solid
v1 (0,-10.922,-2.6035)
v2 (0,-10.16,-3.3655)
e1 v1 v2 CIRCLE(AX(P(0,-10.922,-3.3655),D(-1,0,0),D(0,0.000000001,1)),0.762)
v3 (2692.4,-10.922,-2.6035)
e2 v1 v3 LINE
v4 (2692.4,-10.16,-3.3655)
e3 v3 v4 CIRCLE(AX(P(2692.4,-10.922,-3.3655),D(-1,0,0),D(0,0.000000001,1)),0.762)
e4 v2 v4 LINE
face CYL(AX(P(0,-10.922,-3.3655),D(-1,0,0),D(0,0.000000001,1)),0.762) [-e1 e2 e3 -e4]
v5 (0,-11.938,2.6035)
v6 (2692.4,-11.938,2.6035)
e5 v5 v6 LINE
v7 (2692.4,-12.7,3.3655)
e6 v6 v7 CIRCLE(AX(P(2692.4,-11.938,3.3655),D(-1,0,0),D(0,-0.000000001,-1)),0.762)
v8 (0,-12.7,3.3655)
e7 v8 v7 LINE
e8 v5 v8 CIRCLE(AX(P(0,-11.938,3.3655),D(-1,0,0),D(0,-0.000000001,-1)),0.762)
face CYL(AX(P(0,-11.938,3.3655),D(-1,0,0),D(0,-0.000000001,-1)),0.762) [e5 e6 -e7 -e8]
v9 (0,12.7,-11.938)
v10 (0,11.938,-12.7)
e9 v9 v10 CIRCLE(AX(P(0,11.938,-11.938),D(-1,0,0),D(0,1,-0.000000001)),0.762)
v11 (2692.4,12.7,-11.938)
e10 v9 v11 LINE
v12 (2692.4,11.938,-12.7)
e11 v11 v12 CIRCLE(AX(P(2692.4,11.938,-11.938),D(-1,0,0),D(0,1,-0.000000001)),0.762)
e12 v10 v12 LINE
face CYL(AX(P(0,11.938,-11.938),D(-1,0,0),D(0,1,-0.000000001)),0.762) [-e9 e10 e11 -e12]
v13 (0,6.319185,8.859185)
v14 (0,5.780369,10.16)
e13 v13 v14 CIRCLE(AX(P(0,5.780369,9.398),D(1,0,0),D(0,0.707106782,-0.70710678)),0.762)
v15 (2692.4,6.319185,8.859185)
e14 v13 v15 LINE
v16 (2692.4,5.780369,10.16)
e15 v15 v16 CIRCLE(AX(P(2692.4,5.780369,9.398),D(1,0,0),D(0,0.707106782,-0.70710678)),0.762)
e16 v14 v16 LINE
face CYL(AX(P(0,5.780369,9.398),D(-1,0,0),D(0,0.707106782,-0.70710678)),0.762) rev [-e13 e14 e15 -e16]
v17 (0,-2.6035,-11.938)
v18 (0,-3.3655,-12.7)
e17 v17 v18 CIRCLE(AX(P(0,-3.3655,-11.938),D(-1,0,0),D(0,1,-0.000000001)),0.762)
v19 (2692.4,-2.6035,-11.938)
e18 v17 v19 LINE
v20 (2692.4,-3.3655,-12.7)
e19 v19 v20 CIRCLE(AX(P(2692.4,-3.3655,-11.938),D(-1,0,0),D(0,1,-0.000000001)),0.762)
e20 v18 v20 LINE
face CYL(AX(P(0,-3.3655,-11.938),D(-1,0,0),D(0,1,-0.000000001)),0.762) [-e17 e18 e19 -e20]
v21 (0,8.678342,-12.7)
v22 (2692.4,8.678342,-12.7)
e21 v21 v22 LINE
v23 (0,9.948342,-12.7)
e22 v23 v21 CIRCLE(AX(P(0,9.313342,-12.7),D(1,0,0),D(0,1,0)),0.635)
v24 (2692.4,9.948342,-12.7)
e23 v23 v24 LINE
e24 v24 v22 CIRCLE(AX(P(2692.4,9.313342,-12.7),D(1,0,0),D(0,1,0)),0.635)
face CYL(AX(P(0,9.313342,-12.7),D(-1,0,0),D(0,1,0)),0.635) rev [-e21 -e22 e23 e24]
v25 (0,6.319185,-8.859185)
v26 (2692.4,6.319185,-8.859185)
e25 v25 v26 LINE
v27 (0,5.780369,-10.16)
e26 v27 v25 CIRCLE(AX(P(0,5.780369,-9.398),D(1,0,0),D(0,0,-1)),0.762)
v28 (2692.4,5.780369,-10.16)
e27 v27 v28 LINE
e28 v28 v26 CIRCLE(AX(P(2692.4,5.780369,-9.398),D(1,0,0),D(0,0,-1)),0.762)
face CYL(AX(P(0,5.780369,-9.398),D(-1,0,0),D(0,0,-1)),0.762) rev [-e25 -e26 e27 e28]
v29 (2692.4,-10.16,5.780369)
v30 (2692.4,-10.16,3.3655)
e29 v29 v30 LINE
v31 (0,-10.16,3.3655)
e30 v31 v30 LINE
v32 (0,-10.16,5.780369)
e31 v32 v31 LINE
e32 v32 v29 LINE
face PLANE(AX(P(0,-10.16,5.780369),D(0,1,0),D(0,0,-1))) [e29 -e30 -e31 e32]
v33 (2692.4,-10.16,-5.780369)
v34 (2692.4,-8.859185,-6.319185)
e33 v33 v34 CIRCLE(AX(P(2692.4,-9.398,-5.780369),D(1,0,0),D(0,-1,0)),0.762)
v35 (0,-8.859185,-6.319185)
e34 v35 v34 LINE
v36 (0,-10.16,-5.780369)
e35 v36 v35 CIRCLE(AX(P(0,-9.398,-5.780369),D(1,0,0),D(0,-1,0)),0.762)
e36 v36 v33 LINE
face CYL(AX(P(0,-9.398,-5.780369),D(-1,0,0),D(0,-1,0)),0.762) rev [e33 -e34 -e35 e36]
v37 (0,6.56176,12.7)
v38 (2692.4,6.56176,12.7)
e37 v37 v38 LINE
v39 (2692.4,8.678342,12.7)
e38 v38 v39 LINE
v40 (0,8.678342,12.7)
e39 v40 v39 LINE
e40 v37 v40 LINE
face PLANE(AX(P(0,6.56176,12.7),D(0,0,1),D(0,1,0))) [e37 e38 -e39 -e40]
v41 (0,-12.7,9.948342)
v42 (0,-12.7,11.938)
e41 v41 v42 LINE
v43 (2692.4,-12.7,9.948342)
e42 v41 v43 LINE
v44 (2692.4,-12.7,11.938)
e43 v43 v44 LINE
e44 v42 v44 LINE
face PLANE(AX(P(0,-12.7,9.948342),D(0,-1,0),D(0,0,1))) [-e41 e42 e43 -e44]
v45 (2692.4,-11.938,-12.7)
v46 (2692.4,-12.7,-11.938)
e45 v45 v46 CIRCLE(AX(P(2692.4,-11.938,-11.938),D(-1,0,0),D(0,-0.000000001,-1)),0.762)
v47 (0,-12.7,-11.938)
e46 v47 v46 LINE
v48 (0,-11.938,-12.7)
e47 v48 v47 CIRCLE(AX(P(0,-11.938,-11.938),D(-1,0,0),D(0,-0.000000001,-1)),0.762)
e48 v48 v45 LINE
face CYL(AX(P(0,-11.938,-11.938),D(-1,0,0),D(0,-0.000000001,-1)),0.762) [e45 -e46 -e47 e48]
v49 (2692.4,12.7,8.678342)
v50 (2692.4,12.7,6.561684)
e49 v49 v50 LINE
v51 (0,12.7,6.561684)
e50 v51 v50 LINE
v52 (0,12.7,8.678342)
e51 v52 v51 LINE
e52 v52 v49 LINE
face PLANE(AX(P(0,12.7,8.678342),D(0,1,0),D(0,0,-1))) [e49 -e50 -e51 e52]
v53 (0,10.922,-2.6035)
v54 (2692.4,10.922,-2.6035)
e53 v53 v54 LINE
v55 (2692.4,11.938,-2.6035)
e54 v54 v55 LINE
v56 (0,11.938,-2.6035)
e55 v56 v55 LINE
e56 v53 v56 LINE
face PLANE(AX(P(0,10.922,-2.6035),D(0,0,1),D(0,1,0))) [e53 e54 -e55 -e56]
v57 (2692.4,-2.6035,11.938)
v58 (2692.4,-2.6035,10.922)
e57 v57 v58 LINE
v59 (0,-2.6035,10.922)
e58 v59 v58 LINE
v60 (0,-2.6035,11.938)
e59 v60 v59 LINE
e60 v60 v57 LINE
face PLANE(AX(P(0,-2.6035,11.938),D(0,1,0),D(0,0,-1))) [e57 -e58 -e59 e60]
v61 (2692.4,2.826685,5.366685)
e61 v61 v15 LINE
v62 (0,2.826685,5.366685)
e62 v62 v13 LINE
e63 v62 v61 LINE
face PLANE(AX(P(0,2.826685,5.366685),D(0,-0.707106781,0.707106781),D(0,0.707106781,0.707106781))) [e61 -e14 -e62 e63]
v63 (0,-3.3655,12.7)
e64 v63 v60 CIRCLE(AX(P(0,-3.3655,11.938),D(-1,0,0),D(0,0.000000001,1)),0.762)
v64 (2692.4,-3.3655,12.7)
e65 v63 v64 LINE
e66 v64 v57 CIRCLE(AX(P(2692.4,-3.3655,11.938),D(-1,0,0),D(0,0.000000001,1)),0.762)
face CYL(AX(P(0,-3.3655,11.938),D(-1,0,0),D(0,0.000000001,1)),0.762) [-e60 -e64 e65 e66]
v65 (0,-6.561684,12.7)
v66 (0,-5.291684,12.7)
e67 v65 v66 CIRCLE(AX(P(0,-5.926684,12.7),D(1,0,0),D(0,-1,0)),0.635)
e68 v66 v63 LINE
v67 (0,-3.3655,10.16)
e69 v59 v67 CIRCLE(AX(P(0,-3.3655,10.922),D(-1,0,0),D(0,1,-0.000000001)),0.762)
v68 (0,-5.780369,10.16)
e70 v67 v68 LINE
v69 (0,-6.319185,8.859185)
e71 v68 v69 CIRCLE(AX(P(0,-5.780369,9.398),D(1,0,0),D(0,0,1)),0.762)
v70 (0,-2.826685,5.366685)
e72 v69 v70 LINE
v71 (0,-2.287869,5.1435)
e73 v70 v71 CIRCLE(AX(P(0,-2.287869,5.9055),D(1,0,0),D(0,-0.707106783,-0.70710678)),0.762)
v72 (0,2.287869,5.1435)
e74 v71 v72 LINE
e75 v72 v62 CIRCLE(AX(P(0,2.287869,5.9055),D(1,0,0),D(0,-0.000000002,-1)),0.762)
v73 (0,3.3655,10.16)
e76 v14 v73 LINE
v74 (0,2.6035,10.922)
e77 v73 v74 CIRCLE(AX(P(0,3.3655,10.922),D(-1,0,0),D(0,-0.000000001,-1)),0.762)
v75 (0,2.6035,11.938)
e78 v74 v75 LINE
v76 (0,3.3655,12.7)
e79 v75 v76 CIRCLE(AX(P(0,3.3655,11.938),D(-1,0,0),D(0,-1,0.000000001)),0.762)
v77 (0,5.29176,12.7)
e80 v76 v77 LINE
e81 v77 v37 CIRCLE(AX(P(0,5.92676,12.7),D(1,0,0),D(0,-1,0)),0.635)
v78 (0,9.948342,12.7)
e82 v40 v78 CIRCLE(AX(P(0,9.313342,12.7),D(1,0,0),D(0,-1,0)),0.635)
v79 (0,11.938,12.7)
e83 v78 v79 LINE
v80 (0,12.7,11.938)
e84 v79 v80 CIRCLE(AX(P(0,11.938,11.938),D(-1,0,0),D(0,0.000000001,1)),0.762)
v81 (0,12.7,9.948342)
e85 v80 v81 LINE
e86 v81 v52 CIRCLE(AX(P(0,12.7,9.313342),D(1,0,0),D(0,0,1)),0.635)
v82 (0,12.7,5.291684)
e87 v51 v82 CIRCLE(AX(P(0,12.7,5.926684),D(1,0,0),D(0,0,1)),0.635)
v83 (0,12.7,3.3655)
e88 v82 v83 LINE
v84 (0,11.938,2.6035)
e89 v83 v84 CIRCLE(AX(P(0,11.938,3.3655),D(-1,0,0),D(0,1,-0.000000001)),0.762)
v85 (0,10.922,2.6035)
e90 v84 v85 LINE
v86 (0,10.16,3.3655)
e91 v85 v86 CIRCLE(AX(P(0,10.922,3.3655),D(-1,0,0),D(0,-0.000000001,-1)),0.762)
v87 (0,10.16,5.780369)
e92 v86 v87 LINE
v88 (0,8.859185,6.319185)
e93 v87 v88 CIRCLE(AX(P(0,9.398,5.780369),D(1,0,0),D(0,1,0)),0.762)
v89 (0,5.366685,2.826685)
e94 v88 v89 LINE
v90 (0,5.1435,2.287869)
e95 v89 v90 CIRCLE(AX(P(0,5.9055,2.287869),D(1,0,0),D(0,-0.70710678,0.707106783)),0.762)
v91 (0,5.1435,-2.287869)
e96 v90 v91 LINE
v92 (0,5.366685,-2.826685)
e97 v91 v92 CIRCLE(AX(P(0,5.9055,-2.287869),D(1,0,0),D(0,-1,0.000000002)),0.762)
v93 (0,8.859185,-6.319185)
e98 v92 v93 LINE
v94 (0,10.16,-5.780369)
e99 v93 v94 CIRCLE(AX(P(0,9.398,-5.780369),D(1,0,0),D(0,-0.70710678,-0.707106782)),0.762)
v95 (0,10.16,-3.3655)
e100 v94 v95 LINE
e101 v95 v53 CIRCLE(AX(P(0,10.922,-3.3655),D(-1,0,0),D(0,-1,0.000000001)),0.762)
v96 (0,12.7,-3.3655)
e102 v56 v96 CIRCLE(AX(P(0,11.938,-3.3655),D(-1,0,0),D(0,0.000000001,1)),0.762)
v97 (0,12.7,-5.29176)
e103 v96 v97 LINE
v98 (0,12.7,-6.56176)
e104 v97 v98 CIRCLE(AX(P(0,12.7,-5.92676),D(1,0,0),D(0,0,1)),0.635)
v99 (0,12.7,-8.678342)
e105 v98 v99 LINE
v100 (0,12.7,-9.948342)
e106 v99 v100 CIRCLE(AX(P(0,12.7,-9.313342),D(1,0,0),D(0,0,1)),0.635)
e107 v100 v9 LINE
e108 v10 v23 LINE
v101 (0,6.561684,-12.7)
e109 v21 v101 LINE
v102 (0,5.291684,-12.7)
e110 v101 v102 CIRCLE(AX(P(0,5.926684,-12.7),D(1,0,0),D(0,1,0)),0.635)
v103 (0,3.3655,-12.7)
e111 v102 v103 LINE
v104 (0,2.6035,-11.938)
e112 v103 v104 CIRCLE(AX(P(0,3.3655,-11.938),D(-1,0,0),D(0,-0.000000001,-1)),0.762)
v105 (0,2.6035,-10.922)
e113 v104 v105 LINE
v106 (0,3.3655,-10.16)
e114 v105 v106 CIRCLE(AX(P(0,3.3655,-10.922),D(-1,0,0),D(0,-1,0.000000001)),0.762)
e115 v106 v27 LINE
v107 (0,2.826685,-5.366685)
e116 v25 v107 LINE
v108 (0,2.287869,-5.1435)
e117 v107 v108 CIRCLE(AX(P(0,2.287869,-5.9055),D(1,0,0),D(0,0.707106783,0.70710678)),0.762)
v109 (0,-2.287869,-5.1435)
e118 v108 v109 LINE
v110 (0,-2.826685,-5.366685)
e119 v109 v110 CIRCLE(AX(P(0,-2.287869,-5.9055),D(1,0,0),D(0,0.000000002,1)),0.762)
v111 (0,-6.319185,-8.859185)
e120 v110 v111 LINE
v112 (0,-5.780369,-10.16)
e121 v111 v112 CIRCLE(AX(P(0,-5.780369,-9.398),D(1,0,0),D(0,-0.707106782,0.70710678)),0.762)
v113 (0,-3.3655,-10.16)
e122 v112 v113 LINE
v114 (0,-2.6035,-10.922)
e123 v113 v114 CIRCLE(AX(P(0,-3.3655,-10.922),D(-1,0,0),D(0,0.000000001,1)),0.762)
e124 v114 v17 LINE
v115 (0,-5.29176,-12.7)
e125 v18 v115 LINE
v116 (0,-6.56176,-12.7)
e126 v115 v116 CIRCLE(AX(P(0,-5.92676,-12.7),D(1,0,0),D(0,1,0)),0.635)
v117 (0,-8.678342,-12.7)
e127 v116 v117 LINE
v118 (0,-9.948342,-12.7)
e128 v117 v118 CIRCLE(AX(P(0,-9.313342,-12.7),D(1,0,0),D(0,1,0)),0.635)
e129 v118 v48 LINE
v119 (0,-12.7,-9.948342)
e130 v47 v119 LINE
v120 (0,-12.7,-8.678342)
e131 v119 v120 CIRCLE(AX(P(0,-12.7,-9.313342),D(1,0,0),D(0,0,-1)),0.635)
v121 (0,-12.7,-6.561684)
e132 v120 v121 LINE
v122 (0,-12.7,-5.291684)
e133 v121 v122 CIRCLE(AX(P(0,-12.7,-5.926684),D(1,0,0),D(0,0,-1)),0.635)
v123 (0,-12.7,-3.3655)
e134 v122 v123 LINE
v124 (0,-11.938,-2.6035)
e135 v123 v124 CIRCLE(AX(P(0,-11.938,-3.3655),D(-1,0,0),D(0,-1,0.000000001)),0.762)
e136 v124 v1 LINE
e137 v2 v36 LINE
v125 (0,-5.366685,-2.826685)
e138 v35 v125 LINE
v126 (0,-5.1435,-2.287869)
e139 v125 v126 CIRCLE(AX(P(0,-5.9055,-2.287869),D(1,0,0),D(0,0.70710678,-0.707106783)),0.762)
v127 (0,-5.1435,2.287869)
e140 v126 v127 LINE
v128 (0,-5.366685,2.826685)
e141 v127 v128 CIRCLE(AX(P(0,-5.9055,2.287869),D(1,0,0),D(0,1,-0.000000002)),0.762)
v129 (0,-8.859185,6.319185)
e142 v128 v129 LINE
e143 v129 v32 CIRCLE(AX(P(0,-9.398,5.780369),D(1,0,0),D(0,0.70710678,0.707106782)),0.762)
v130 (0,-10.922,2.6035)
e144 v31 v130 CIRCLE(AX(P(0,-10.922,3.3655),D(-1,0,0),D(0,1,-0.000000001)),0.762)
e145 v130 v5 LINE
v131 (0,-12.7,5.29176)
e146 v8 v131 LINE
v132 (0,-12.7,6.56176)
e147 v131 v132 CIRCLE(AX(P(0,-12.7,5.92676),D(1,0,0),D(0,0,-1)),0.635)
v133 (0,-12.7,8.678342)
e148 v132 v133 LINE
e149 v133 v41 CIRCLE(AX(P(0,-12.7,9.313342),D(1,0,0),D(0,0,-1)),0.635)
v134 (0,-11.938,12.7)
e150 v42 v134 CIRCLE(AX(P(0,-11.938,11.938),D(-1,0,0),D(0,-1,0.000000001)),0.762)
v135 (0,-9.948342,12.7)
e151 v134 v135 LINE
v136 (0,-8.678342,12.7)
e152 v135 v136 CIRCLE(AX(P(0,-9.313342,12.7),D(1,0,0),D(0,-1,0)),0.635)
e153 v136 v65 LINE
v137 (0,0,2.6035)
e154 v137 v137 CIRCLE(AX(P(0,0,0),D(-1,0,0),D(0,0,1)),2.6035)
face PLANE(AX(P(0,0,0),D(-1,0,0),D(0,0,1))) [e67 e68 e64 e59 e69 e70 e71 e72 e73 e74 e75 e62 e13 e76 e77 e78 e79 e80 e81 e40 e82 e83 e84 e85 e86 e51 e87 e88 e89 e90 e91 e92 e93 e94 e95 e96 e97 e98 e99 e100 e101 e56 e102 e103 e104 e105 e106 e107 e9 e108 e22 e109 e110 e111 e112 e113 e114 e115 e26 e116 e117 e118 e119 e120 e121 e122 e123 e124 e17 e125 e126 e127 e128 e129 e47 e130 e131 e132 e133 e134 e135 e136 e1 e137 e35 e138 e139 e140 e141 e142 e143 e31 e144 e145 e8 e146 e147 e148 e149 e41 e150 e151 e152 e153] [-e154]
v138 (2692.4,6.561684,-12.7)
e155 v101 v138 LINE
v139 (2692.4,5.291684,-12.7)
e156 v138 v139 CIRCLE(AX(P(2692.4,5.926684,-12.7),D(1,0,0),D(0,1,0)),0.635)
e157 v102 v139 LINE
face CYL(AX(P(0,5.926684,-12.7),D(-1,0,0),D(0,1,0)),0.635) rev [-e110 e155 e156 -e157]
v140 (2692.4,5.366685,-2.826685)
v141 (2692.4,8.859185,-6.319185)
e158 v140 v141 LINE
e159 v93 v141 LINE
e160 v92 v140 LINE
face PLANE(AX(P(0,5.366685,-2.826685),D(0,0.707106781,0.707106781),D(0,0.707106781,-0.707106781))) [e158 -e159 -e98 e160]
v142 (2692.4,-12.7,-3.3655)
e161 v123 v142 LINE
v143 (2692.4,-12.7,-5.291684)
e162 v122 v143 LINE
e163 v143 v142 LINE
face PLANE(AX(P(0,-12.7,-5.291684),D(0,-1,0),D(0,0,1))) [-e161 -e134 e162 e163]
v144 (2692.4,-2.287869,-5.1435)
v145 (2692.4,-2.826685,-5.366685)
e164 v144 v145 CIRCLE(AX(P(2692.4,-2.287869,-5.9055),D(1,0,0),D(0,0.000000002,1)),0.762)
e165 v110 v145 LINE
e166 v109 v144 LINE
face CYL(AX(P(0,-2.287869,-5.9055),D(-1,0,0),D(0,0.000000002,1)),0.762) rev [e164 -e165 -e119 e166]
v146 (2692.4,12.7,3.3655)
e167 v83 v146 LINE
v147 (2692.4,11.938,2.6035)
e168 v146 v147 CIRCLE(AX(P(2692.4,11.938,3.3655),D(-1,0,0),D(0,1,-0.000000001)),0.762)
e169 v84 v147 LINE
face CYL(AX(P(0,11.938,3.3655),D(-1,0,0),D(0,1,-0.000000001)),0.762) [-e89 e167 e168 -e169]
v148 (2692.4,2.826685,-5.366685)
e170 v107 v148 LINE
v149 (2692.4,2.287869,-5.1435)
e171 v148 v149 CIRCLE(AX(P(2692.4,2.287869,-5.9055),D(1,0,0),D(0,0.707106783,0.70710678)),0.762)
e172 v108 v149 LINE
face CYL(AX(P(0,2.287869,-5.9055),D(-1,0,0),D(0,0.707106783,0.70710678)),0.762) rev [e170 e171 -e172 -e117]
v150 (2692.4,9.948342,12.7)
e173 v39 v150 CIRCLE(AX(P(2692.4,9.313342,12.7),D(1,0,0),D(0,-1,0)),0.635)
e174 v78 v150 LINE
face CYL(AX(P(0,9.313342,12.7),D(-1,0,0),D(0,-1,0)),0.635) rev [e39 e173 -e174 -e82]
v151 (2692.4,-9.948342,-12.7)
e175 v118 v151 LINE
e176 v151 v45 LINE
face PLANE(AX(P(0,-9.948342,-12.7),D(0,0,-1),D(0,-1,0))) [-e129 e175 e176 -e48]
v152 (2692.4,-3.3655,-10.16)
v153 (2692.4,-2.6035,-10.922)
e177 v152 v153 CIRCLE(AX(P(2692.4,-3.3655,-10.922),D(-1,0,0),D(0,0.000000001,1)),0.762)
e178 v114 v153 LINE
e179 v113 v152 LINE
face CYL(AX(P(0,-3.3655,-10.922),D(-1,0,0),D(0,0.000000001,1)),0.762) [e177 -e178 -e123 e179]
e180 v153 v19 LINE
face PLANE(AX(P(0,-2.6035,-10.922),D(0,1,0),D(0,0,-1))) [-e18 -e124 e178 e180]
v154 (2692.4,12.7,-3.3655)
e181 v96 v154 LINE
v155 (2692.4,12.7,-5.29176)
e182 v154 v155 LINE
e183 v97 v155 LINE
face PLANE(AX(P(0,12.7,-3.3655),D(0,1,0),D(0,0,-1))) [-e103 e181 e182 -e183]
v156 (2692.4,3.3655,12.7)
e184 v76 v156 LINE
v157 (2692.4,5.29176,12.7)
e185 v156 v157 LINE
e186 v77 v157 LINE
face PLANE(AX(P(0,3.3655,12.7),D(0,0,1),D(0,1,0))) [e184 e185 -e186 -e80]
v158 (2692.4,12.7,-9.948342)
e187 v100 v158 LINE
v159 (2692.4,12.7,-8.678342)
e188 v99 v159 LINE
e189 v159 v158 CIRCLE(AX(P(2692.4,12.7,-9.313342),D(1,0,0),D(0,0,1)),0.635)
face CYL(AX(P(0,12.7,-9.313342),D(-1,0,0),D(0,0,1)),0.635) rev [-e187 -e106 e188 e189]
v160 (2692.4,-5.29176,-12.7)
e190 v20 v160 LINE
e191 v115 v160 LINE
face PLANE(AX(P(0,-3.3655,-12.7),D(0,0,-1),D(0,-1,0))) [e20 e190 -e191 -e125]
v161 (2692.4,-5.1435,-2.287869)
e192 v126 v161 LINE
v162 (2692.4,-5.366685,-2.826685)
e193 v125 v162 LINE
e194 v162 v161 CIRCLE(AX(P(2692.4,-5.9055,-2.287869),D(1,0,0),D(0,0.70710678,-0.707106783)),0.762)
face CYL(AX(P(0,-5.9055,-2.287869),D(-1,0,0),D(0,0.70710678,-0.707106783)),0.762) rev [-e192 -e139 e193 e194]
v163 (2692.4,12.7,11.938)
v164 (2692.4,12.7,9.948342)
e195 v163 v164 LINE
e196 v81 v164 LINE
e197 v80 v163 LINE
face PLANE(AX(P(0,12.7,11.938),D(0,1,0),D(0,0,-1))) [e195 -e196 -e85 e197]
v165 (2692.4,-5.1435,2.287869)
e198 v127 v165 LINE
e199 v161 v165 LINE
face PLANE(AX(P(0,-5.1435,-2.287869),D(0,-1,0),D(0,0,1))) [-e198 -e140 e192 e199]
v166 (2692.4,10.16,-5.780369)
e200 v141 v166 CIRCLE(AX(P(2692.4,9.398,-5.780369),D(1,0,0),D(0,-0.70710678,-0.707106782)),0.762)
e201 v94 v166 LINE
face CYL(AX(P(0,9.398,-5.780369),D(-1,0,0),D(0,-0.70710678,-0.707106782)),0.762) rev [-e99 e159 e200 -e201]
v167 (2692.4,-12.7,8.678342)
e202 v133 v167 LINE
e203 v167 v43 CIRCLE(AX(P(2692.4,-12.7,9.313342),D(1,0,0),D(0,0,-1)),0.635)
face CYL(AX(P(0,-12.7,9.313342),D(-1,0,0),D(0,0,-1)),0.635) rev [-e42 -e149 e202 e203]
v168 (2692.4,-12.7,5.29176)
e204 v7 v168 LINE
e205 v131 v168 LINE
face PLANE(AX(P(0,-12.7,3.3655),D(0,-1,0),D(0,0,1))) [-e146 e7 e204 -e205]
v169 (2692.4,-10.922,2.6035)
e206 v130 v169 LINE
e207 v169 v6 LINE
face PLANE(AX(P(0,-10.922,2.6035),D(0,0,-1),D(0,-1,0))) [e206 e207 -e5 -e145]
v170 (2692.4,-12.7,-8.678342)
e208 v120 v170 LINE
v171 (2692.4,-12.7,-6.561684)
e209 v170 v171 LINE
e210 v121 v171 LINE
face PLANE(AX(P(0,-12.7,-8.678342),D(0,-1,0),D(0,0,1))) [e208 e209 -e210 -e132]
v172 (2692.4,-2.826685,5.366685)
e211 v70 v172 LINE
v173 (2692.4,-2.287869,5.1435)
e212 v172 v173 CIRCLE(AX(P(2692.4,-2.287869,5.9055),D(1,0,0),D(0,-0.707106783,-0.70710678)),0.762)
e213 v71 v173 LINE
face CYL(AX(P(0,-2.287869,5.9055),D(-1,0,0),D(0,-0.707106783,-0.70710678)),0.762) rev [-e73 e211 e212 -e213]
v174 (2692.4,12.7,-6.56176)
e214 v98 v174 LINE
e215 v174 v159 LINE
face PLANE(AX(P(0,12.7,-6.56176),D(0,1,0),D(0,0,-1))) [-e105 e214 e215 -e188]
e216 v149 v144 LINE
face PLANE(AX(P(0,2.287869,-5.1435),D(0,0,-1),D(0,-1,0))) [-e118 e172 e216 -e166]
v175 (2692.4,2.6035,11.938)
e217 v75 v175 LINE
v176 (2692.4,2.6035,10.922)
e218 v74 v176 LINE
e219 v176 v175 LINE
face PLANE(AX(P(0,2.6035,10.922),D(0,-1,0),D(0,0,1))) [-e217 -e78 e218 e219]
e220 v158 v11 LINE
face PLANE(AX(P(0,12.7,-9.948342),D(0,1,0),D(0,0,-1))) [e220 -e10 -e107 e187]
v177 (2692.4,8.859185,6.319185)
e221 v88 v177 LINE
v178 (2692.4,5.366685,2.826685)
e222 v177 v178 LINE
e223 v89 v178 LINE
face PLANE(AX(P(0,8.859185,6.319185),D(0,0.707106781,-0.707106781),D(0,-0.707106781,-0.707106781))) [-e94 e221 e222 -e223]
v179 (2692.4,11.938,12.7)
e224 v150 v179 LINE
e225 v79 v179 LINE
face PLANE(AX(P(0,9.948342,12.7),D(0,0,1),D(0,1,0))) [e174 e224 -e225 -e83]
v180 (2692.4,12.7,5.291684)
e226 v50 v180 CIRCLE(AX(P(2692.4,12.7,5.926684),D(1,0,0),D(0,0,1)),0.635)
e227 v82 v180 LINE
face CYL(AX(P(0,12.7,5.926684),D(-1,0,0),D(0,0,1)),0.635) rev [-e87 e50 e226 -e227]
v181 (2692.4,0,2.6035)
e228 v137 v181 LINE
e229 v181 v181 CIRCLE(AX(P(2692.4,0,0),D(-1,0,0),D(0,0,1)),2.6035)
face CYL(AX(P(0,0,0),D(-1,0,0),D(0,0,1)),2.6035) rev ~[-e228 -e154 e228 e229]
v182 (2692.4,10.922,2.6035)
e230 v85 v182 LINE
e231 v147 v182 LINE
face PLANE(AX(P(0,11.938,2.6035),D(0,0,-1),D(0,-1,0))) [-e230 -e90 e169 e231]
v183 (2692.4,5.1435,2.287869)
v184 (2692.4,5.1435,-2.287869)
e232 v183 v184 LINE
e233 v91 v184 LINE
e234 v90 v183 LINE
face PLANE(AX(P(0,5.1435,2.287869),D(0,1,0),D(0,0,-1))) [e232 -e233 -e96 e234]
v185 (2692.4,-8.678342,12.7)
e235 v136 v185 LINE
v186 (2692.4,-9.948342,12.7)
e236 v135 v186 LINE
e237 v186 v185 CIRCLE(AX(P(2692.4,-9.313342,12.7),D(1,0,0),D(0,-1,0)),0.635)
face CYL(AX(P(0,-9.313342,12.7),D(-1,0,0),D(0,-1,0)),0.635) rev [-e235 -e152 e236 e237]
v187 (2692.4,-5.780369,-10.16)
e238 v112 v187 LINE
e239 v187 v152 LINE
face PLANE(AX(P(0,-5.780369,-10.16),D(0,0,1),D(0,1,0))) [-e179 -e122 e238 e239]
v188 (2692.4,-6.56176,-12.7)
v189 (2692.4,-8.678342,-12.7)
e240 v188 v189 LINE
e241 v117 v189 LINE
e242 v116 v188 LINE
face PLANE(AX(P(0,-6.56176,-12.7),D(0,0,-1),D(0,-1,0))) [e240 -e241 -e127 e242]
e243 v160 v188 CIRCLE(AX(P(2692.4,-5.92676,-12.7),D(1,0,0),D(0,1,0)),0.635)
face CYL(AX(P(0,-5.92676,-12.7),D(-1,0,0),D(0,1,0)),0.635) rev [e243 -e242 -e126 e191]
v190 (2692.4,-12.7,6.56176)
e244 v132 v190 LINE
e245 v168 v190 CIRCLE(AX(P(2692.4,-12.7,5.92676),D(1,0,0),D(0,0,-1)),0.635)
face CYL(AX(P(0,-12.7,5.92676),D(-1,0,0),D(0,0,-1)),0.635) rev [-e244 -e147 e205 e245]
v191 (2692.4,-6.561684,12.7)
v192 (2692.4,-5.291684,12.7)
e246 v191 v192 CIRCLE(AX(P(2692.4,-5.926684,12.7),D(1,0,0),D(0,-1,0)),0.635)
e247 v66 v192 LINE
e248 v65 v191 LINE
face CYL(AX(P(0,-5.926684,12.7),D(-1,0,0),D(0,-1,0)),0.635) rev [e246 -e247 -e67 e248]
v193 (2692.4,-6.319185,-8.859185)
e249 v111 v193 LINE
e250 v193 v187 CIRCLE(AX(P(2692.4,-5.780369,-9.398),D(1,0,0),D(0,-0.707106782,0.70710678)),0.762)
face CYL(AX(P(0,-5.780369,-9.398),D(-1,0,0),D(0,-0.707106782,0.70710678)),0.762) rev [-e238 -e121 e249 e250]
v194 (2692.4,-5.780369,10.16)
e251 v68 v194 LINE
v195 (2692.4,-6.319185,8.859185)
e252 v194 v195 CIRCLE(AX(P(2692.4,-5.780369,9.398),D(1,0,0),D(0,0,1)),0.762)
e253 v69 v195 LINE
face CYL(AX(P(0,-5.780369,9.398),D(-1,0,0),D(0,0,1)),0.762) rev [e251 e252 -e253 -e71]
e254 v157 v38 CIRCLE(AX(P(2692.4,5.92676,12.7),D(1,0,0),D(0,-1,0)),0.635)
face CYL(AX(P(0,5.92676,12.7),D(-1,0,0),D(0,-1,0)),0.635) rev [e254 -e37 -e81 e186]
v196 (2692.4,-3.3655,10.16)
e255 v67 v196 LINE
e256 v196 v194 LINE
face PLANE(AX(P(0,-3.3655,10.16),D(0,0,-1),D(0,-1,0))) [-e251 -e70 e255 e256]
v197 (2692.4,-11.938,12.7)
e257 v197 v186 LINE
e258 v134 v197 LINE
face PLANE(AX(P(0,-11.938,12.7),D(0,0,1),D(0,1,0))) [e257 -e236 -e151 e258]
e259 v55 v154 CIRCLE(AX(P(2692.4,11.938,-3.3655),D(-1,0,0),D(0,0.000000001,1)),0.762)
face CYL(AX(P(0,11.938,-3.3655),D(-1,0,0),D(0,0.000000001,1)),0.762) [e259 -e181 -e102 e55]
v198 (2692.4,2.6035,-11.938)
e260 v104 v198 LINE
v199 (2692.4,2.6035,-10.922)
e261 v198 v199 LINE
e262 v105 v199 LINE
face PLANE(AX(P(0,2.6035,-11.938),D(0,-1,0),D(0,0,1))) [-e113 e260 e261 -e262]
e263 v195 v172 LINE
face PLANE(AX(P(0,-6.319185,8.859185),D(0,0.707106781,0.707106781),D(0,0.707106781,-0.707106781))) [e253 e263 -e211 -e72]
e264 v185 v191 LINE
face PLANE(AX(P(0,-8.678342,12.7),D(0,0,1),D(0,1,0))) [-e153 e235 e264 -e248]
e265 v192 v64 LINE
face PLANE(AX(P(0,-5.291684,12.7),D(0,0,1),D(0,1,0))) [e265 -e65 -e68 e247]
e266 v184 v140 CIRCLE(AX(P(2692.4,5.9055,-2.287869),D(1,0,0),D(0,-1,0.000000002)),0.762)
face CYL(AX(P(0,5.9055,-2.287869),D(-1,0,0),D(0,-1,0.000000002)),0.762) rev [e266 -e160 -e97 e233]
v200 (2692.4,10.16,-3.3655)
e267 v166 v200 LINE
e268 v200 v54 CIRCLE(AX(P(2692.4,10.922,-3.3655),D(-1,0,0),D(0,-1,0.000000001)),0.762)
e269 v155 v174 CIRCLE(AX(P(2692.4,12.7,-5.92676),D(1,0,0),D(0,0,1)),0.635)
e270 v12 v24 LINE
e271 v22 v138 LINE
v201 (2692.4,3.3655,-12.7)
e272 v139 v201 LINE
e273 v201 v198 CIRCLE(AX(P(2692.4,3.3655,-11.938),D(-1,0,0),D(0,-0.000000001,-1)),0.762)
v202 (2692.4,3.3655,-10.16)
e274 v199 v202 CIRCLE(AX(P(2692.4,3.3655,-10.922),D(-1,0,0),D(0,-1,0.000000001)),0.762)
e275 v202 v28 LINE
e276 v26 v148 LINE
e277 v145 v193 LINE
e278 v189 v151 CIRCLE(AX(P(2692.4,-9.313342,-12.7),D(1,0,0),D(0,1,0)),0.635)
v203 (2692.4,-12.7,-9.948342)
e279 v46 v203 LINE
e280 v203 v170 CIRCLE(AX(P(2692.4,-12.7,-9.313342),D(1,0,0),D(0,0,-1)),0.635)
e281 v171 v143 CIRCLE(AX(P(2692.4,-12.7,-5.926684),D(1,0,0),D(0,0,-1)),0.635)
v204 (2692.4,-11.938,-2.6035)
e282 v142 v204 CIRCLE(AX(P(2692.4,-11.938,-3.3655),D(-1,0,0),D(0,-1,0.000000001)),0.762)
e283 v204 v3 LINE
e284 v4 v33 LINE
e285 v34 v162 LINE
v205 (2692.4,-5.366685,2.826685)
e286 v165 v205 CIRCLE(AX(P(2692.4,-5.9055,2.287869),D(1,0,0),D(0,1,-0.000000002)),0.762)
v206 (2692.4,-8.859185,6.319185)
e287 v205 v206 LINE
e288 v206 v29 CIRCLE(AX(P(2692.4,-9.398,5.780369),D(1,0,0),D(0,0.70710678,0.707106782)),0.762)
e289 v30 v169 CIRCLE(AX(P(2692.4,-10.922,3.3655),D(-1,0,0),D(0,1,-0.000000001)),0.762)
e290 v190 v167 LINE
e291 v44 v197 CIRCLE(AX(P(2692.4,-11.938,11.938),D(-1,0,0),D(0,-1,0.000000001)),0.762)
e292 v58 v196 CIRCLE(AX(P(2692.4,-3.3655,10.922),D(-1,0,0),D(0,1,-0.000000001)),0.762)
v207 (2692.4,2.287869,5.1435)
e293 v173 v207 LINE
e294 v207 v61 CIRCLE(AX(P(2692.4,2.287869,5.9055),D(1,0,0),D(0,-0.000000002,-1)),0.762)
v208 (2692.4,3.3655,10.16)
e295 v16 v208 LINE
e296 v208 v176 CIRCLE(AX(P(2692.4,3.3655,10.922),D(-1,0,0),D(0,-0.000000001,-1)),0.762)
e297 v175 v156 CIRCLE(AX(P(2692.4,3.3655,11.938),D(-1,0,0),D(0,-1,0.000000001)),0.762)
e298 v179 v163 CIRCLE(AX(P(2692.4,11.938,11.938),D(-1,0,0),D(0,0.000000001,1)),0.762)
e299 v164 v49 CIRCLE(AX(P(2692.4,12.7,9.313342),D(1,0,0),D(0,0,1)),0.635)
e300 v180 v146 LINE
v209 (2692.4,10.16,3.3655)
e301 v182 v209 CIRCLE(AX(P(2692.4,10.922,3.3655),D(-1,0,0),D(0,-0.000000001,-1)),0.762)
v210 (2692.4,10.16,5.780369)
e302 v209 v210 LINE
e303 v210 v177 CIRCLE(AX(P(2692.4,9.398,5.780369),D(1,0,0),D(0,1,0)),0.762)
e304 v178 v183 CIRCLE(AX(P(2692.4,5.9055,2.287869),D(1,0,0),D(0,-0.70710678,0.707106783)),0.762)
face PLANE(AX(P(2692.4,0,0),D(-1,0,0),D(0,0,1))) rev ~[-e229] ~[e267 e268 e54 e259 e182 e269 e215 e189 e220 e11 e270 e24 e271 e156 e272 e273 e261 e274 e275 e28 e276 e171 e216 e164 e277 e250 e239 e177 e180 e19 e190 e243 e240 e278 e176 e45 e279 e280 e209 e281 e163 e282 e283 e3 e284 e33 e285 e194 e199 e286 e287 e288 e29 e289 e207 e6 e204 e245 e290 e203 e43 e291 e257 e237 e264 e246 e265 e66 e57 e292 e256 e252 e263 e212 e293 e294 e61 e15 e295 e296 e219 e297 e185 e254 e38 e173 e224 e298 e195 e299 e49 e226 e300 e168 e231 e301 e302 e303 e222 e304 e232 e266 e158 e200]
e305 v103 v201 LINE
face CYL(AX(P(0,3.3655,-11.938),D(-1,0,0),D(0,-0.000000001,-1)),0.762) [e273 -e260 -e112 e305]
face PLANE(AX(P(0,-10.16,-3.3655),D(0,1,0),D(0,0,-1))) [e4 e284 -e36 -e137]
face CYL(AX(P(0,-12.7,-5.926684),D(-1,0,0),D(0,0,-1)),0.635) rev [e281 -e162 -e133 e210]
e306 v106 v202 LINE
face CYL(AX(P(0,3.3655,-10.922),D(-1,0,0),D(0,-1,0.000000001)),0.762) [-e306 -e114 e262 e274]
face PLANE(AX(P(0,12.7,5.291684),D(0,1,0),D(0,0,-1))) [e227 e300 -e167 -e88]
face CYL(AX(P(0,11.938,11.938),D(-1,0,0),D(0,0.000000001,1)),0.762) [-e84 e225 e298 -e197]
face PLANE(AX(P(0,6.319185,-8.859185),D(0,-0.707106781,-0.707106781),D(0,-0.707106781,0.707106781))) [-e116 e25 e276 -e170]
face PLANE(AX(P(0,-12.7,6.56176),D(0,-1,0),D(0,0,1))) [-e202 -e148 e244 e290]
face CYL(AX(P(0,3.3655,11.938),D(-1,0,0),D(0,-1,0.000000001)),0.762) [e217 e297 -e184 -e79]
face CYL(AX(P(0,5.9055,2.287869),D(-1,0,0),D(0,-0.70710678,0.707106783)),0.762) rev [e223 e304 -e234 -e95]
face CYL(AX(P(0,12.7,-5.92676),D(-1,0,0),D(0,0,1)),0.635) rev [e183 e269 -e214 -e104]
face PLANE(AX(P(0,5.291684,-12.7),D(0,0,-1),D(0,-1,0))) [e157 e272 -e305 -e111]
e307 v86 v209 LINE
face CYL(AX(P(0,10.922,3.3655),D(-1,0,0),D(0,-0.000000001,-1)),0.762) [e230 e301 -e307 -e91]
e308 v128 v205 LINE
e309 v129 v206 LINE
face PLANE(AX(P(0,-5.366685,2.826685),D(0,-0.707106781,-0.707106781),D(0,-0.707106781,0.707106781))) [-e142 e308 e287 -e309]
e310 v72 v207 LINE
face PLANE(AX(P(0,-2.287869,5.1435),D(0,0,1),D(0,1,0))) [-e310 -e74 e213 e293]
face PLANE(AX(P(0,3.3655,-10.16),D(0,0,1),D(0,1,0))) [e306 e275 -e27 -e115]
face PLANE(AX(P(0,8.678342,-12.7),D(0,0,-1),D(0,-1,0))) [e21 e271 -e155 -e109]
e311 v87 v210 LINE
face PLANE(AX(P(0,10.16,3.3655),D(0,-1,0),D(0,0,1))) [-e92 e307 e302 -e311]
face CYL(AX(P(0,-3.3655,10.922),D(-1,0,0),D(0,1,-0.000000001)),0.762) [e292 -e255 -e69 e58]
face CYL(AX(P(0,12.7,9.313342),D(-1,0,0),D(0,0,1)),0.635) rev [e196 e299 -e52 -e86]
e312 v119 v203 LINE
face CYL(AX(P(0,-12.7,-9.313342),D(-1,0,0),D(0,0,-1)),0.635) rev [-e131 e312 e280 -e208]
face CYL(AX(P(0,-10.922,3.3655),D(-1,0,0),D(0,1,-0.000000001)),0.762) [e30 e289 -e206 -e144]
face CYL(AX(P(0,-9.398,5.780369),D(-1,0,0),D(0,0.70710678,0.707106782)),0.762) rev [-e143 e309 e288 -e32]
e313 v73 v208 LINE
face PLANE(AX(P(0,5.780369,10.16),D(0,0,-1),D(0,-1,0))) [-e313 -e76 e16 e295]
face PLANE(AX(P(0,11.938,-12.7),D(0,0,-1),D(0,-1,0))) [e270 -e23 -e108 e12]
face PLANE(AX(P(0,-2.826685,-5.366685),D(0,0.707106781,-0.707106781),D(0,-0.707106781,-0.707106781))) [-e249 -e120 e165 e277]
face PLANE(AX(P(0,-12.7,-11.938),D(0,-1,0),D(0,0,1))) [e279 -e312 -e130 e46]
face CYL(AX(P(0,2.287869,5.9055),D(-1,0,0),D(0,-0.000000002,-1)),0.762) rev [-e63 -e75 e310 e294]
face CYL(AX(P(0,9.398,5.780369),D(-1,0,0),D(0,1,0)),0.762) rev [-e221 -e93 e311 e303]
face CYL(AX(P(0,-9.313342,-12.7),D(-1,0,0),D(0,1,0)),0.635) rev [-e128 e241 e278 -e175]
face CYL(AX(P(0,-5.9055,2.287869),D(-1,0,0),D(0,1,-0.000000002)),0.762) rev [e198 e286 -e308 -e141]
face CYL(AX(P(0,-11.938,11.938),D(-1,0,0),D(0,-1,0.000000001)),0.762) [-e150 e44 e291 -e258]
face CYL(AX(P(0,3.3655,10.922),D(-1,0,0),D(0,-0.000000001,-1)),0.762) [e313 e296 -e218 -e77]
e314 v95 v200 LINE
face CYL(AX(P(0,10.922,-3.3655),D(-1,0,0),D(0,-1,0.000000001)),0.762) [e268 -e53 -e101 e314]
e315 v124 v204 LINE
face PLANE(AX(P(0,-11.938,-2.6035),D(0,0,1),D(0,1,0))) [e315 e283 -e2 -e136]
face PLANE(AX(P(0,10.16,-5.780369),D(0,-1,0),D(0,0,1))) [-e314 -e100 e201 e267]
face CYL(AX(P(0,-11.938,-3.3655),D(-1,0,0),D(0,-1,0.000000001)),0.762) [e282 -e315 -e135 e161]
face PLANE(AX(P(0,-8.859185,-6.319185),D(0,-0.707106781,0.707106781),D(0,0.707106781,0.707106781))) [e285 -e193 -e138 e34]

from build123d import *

# Parameters (mm, degrees)
BOSS_EXTRUDE1_DEPTH = 2692.4
SKETCH2_R           = 2.6035
CUT_EXTRUDE1_DEPTH  = 2692.4


with BuildPart() as part:
    # Sketch1 → Boss-Extrude1 (new body)
    with BuildSketch(Plane(origin=(0, 0, 0), x_dir=(0, 0, -1), z_dir=(1, 0, 0))):
        with BuildLine():
            Line((-2.6035, 11.938), (-2.6035, 10.922))
            ThreePointArc((-2.6035, 10.922), (-2.826684633, 10.383184633), (-3.3655, 10.16))
            Line((-3.3655, 10.16), (-5.780369265, 10.16))
            ThreePointArc((-5.780369265, 10.16), (-6.484365469, 9.689604775), (-6.319184633, 8.859184633))
            Line((-6.319184633, 8.859184633), (-2.826684633, 5.366684633))
            ThreePointArc((-2.826684633, 5.366684633), (-2.579474041, 5.201503796), (-2.287869265, 5.1435))
            Line((-2.287869265, 5.1435), (2.287869265, 5.1435))
            ThreePointArc((2.287869265, 5.1435), (2.579474041, 5.201503796), (2.826684633, 5.366684633))
            Line((2.826684633, 5.366684633), (6.319184633, 8.859184633))
            ThreePointArc((6.319184633, 8.859184633), (6.484365469, 9.689604775), (5.780369265, 10.16))
            Line((5.780369265, 10.16), (3.3655, 10.16))
            ThreePointArc((3.3655, 10.16), (2.826684633, 10.383184633), (2.6035, 10.922))
            Line((2.6035, 10.922), (2.6035, 11.938))
            ThreePointArc((2.6035, 11.938), (2.826684633, 12.476815367), (3.3655, 12.7))
            Line((3.3655, 12.7), (5.2917598, 12.7))
            ThreePointArc((5.2917598, 12.7), (5.9267598, 12.065), (6.5617598, 12.7))
            Line((6.5617598, 12.7), (8.6783418, 12.7))
            ThreePointArc((8.6783418, 12.7), (9.3133418, 12.065), (9.9483418, 12.7))
            Line((9.9483418, 12.7), (11.938, 12.7))
            ThreePointArc((11.938, 12.7), (12.476815367, 12.476815367), (12.7, 11.938))
            Line((12.7, 11.938), (12.7, 9.9483418))
            ThreePointArc((12.7, 9.9483418), (12.065, 9.3133418), (12.7, 8.6783418))
            Line((12.7, 8.6783418), (12.7, 6.5616836))
            ThreePointArc((12.7, 6.5616836), (12.065, 5.9266836), (12.7, 5.2916836))
            Line((12.7, 5.2916836), (12.7, 3.3655))
            ThreePointArc((12.7, 3.3655), (12.476815367, 2.826684633), (11.938, 2.6035))
            Line((11.938, 2.6035), (10.922, 2.6035))
            ThreePointArc((10.922, 2.6035), (10.383184633, 2.826684633), (10.16, 3.3655))
            Line((10.16, 3.3655), (10.16, 5.780369265))
            ThreePointArc((10.16, 5.780369265), (9.689604775, 6.484365469), (8.859184633, 6.319184633))
            Line((8.859184633, 6.319184633), (5.366684633, 2.826684633))
            ThreePointArc((5.366684633, 2.826684633), (5.201503796, 2.579474041), (5.1435, 2.287869265))
            Line((5.1435, 2.287869265), (5.1435, -2.287869265))
            ThreePointArc((5.1435, -2.287869265), (5.201503796, -2.579474041), (5.366684633, -2.826684633))
            Line((5.366684633, -2.826684633), (8.859184633, -6.319184633))
            ThreePointArc((8.859184633, -6.319184633), (9.689604775, -6.484365469), (10.16, -5.780369265))
            Line((10.16, -5.780369265), (10.16, -3.3655))
            ThreePointArc((10.16, -3.3655), (10.383184633, -2.826684633), (10.922, -2.6035))
            Line((10.922, -2.6035), (11.938, -2.6035))
            ThreePointArc((11.938, -2.6035), (12.476815367, -2.826684633), (12.7, -3.3655))
            Line((12.7, -3.3655), (12.7, -5.2917598))
            ThreePointArc((12.7, -5.2917598), (12.065, -5.9267598), (12.7, -6.5617598))
            Line((12.7, -6.5617598), (12.7, -8.6783418))
            ThreePointArc((12.7, -8.6783418), (12.065, -9.3133418), (12.7, -9.9483418))
            Line((12.7, -9.9483418), (12.7, -11.938))
            ThreePointArc((12.7, -11.938), (12.476815367, -12.476815367), (11.938, -12.7))
            Line((11.938, -12.7), (9.9483418, -12.7))
            ThreePointArc((9.9483418, -12.7), (9.3133418, -12.065), (8.6783418, -12.7))
            Line((8.6783418, -12.7), (6.5616836, -12.7))
            ThreePointArc((6.5616836, -12.7), (5.9266836, -12.065), (5.2916836, -12.7))
            Line((5.2916836, -12.7), (3.3655, -12.7))
            ThreePointArc((3.3655, -12.7), (2.826684633, -12.476815367), (2.6035, -11.938))
            Line((2.6035, -11.938), (2.6035, -10.922))
            ThreePointArc((2.6035, -10.922), (2.826684633, -10.383184633), (3.3655, -10.16))
            Line((3.3655, -10.16), (5.780369265, -10.16))
            ThreePointArc((5.780369265, -10.16), (6.484365469, -9.689604775), (6.319184633, -8.859184633))
            Line((6.319184633, -8.859184633), (2.826684633, -5.366684633))
            ThreePointArc((2.826684633, -5.366684633), (2.579474041, -5.201503796), (2.287869265, -5.1435))
            Line((2.287869265, -5.1435), (-2.287869265, -5.1435))
            ThreePointArc((-2.287869265, -5.1435), (-2.579474041, -5.201503796), (-2.826684633, -5.366684633))
            Line((-2.826684633, -5.366684633), (-6.319184633, -8.859184633))
            ThreePointArc((-6.319184633, -8.859184633), (-6.484365469, -9.689604775), (-5.780369265, -10.16))
            Line((-5.780369265, -10.16), (-3.3655, -10.16))
            ThreePointArc((-3.3655, -10.16), (-2.826684633, -10.383184633), (-2.6035, -10.922))
            Line((-2.6035, -10.922), (-2.6035, -11.938))
            ThreePointArc((-2.6035, -11.938), (-2.826684633, -12.476815367), (-3.3655, -12.7))
            Line((-3.3655, -12.7), (-5.2917598, -12.7))
            ThreePointArc((-5.2917598, -12.7), (-5.9267598, -12.065), (-6.5617598, -12.7))
            Line((-6.5617598, -12.7), (-8.6783418, -12.7))
            ThreePointArc((-8.6783418, -12.7), (-9.3133418, -12.065), (-9.9483418, -12.7))
            Line((-9.9483418, -12.7), (-11.938, -12.7))
            ThreePointArc((-11.938, -12.7), (-12.476815367, -12.476815367), (-12.7, -11.938))
            Line((-12.7, -11.938), (-12.7, -9.9483418))
            ThreePointArc((-12.7, -9.9483418), (-12.065, -9.3133418), (-12.7, -8.6783418))
            Line((-12.7, -8.6783418), (-12.7, -6.5616836))
            ThreePointArc((-12.7, -6.5616836), (-12.065, -5.9266836), (-12.7, -5.2916836))
            Line((-12.7, -5.2916836), (-12.7, -3.3655))
            ThreePointArc((-12.7, -3.3655), (-12.476815367, -2.826684633), (-11.938, -2.6035))
            Line((-11.938, -2.6035), (-10.922, -2.6035))
            ThreePointArc((-10.922, -2.6035), (-10.383184633, -2.826684633), (-10.16, -3.3655))
            Line((-10.16, -3.3655), (-10.16, -5.780369265))
            ThreePointArc((-10.16, -5.780369265), (-9.689604775, -6.484365469), (-8.859184633, -6.319184633))
            Line((-8.859184633, -6.319184633), (-5.366684633, -2.826684633))
            ThreePointArc((-5.366684633, -2.826684633), (-5.201503796, -2.579474041), (-5.1435, -2.287869265))
            Line((-5.1435, -2.287869265), (-5.1435, 2.287869265))
            ThreePointArc((-5.1435, 2.287869265), (-5.201503796, 2.579474041), (-5.366684633, 2.826684633))
            Line((-5.366684633, 2.826684633), (-8.859184633, 6.319184633))
            ThreePointArc((-8.859184633, 6.319184633), (-9.689604775, 6.484365469), (-10.16, 5.780369265))
            Line((-10.16, 5.780369265), (-10.16, 3.3655))
            ThreePointArc((-10.16, 3.3655), (-10.383184633, 2.826684633), (-10.922, 2.6035))
            Line((-10.922, 2.6035), (-11.938, 2.6035))
            ThreePointArc((-11.938, 2.6035), (-12.476815367, 2.826684633), (-12.7, 3.3655))
            Line((-12.7, 3.3655), (-12.7, 5.2917598))
            ThreePointArc((-12.7, 5.2917598), (-12.065, 5.9267598), (-12.7, 6.5617598))
            Line((-12.7, 6.5617598), (-12.7, 8.6783418))
            ThreePointArc((-12.7, 8.6783418), (-12.065, 9.3133418), (-12.7, 9.9483418))
            Line((-12.7, 9.9483418), (-12.7, 11.938))
            ThreePointArc((-12.7, 11.938), (-12.476815367, 12.476815367), (-11.938, 12.7))
            Line((-11.938, 12.7), (-9.9483418, 12.7))
            ThreePointArc((-9.9483418, 12.7), (-9.3133418, 12.065), (-8.6783418, 12.7))
            Line((-8.6783418, 12.7), (-6.5616836, 12.7))
            ThreePointArc((-6.5616836, 12.7), (-5.9266836, 12.065), (-5.2916836, 12.7))
            Line((-5.2916836, 12.7), (-3.3655, 12.7))
            ThreePointArc((-3.3655, 12.7), (-2.826684633, 12.476815367), (-2.6035, 11.938))
        make_face()
    extrude(amount=BOSS_EXTRUDE1_DEPTH)

    # Sketch2 → Cut-Extrude1 (cut)
    with BuildSketch(Plane.ZY):
        Circle(SKETCH2_R)
    extrude(amount=-CUT_EXTRUDE1_DEPTH, mode=Mode.SUBTRACT)


solid = part.part
